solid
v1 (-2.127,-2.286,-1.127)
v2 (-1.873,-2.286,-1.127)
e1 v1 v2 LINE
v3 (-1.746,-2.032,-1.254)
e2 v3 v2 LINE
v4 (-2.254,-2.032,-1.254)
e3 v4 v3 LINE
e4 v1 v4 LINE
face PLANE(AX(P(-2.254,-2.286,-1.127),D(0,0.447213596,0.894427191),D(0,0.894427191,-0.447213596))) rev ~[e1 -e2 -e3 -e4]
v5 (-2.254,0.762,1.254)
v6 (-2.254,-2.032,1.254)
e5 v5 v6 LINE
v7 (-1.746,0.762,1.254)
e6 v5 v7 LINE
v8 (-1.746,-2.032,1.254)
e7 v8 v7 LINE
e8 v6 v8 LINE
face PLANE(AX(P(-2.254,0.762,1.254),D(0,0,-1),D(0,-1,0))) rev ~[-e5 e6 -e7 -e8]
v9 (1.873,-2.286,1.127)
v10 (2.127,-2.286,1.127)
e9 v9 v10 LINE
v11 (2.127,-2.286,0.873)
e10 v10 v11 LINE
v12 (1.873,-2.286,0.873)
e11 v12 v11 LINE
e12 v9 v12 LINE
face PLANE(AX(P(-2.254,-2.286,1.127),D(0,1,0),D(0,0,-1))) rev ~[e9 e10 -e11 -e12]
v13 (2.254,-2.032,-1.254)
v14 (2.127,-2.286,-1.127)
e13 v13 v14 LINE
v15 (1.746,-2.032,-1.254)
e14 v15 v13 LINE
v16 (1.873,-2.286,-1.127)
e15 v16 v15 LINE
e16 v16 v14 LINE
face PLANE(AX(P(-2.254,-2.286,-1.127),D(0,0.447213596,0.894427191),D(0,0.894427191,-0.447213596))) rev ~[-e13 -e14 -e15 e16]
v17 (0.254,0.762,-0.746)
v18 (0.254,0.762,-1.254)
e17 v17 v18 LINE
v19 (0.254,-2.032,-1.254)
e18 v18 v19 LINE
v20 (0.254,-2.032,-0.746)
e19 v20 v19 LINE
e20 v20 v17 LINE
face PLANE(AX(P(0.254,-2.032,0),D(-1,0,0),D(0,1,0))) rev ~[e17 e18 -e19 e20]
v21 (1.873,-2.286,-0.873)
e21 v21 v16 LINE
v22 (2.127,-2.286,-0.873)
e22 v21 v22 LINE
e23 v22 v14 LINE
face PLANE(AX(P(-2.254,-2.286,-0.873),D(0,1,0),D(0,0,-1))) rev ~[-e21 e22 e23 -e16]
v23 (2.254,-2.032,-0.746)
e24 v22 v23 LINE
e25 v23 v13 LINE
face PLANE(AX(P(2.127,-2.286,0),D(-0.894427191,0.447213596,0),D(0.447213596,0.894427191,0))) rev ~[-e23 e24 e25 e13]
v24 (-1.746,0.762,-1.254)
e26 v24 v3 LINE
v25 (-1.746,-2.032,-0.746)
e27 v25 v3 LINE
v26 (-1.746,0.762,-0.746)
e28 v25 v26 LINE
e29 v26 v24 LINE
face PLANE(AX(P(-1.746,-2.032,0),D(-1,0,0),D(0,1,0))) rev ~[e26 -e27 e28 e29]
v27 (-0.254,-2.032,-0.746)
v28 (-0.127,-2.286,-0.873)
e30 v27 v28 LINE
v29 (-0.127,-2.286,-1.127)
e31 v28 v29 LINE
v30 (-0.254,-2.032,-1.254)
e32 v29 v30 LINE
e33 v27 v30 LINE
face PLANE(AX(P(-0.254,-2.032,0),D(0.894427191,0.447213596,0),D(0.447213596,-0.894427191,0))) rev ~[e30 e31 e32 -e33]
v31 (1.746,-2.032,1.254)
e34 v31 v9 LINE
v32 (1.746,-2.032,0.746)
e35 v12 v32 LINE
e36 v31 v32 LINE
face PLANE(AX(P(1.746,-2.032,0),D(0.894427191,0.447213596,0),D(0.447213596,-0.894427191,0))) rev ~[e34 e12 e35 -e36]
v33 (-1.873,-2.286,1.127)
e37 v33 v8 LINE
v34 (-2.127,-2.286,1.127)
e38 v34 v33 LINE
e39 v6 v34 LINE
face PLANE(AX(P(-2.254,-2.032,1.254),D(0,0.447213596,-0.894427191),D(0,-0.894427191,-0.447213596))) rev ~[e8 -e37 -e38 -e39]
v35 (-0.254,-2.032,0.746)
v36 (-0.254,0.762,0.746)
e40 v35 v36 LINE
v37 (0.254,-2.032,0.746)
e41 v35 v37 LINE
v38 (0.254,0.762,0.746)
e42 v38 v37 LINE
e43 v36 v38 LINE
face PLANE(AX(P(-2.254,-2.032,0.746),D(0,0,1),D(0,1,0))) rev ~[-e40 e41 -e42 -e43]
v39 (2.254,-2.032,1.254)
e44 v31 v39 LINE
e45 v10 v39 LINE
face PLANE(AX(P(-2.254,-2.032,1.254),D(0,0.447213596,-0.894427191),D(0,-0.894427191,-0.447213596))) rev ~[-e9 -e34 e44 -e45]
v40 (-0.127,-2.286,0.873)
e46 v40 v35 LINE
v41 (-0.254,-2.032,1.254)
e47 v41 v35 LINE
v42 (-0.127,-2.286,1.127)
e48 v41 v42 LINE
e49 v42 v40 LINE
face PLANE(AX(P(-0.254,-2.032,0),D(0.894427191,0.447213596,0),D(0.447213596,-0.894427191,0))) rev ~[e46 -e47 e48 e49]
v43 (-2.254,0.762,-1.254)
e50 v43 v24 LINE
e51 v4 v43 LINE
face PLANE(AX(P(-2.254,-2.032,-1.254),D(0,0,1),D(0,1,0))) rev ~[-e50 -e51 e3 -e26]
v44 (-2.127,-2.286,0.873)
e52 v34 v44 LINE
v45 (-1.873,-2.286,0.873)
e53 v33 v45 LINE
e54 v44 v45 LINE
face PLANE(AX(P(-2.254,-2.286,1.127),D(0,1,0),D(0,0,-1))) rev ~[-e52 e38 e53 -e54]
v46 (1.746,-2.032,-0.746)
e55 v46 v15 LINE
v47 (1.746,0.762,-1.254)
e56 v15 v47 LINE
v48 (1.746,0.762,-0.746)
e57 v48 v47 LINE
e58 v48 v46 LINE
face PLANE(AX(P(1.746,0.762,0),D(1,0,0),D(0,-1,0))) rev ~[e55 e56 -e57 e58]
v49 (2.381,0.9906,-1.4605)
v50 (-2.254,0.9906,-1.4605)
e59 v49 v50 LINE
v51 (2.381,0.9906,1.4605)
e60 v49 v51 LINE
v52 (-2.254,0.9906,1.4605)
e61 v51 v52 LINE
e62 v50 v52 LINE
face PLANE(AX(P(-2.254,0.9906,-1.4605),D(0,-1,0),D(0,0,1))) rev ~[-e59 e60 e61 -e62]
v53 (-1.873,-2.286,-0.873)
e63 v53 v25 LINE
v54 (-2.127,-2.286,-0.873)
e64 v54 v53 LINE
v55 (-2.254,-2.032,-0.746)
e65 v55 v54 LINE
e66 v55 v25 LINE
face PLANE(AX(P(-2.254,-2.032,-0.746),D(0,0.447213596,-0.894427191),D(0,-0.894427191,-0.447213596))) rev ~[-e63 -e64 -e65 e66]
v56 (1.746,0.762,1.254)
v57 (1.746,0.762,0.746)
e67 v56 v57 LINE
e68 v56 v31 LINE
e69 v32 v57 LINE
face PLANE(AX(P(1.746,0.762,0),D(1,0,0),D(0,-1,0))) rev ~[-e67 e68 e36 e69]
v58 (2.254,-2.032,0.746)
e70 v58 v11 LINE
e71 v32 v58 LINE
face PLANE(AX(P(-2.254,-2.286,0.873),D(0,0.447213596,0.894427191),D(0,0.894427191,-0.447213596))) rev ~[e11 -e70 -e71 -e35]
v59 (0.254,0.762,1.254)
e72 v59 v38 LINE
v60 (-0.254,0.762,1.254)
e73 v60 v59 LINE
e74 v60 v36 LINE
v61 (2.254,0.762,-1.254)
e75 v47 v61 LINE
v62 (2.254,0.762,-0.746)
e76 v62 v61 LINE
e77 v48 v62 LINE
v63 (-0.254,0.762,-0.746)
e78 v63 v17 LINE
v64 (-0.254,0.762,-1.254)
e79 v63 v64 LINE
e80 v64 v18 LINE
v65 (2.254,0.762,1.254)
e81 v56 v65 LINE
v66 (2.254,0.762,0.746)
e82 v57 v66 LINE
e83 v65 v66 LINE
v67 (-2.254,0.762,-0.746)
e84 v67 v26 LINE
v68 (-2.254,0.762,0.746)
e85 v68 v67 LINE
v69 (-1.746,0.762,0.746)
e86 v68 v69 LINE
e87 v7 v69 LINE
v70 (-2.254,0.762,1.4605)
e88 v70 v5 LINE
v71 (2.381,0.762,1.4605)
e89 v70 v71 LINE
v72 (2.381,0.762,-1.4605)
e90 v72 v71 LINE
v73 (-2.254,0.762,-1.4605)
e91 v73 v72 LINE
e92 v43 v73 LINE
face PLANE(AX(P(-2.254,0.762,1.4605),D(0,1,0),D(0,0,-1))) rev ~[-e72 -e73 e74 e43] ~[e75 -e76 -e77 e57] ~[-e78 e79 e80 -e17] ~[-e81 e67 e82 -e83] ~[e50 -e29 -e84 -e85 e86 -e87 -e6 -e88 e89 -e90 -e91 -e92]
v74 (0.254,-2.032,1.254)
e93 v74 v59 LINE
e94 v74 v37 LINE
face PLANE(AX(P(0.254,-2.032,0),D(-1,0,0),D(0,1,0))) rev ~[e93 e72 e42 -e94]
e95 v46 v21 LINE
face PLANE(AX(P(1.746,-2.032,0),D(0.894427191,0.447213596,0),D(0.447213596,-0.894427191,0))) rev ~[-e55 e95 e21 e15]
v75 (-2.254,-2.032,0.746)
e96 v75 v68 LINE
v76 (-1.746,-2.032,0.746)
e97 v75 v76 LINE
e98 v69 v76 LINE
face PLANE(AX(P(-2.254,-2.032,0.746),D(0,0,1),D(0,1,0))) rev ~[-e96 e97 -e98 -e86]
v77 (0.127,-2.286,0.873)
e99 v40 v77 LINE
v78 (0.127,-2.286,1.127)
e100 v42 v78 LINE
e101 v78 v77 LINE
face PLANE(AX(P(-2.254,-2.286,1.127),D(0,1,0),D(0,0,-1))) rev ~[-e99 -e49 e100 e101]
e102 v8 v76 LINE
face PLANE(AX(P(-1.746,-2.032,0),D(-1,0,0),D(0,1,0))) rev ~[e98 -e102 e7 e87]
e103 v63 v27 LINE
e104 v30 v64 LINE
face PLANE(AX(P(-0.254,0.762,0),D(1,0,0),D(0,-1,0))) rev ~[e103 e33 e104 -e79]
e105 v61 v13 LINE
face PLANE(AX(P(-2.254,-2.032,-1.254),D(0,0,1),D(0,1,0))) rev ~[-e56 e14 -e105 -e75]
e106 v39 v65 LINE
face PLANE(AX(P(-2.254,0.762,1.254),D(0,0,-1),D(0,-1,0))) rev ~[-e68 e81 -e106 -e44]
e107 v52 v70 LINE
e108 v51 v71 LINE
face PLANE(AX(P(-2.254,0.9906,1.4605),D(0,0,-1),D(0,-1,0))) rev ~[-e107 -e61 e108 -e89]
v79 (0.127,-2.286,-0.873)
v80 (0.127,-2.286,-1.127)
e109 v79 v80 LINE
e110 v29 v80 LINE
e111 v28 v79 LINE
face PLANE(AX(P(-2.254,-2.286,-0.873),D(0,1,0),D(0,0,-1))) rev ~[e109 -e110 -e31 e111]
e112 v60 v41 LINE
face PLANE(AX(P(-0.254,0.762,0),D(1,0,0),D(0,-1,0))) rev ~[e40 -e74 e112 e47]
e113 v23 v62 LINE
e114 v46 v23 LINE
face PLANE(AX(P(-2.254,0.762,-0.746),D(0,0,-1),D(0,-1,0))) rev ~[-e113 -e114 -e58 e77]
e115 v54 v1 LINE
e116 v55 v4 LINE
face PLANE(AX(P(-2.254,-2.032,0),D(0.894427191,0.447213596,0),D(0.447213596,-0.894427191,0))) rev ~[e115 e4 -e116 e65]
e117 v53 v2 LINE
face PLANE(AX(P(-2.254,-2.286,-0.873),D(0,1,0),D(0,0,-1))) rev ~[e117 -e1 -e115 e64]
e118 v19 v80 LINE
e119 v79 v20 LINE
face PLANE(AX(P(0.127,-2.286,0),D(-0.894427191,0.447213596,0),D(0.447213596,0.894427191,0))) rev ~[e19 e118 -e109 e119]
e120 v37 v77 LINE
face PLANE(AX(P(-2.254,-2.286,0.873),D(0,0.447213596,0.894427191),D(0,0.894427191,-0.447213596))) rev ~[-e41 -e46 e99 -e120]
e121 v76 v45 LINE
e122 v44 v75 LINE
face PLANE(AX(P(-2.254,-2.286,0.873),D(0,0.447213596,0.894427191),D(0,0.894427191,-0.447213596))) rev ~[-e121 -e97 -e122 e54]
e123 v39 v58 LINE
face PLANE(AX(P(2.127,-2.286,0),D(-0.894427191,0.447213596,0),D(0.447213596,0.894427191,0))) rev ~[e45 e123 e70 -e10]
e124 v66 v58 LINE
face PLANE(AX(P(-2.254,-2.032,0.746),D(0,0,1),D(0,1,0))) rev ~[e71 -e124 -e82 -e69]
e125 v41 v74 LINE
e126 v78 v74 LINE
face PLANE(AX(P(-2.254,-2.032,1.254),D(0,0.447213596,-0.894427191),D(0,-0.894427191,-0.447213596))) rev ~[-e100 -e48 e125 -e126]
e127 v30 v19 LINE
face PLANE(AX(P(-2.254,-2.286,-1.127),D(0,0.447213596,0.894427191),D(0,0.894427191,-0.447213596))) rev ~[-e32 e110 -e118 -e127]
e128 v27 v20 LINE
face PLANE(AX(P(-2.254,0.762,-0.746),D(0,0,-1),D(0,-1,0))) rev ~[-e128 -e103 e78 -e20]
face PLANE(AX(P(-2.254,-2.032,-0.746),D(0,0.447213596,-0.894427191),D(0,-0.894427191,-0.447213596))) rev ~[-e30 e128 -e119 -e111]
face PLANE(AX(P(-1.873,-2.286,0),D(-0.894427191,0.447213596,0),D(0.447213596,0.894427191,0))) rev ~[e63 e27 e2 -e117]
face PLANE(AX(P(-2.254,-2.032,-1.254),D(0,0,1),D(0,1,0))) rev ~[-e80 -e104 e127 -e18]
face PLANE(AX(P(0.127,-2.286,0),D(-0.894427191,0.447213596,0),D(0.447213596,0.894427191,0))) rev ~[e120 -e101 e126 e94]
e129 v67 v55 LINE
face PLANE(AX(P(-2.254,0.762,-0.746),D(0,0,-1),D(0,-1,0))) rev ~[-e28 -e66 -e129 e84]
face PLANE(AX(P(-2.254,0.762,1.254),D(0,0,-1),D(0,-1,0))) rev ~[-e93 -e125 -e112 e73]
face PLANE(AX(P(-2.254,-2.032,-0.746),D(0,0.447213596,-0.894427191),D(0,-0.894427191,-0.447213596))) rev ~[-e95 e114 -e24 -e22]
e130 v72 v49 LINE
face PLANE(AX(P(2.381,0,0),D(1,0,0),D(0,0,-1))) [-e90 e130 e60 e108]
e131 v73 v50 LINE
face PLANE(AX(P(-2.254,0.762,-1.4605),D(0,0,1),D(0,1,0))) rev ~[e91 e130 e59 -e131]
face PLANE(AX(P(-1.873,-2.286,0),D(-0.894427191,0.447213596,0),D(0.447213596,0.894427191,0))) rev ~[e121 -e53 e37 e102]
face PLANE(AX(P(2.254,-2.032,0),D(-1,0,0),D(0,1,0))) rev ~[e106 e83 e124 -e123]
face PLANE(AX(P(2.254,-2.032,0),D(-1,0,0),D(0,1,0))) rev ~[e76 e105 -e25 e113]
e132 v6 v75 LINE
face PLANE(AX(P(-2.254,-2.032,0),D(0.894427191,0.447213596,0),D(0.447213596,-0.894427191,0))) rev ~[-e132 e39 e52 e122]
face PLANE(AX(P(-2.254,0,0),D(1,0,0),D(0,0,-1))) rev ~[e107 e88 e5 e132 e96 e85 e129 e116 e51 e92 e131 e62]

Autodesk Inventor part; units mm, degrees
sketch "Sketch_2" plane through (-2.254, 0, 0) normal (1, 0, 0) x (0, 0, -1)
  line L0 (-1.4605, 0.762) -> (-1.254, 0.762)
  line L1 (-1.254, 0.762) -> (-1.254, -2.032)
  line L2 (-1.254, -2.032) -> (-1.127, -2.286)
  line L3 (-1.127, -2.286) -> (-0.873, -2.286)
  line L4 (-0.873, -2.286) -> (-0.746, -2.032)
  line L5 (-0.746, -2.032) -> (-0.746, 0.762)
  line L6 (-0.746, 0.762) -> (0.746, 0.762)
  line L7 (0.746, 0.762) -> (0.746, -2.032)
  line L8 (0.746, -2.032) -> (0.873, -2.286)
  line L9 (0.873, -2.286) -> (1.127, -2.286)
  line L10 (1.127, -2.286) -> (1.254, -2.032)
  line L11 (1.254, -2.032) -> (1.254, 0.762)
  line L12 (1.254, 0.762) -> (1.4605, 0.762)
  line L13 (1.4605, 0.762) -> (1.4605, 0.9906)
  line L14 (1.4605, 0.9906) -> (-1.4605, 0.9906)
  line L15 (-1.4605, 0.9906) -> (-1.4605, 0.762)
extrude "Extrusion1" add sketch "Sketch_2" along normal blind 4.635
sketch "Sketch_1" plane through (0, 0, 0) normal (0, 0, 1) x (1, 0, 0)
  line L0 (-109.4334, 38.1) -> (-109.4334, -38.1)
  line L1 (-109.4334, -38.1) -> (56.7986, -38.1)
  line L2 (56.7986, -38.1) -> (56.7986, 38.1)
  line L3 (56.7986, 38.1) -> (-109.4334, 38.1)
  line L4 (-100.4603, 0.762) -> (-100.2538, 0.762)
  line L5 (-100.2538, 0.762) -> (-100.2538, -2.032)
  line L6 (-100.2538, -2.032) -> (-100.1268, -2.286)
  line L7 (-100.1268, -2.286) -> (-99.8728, -2.286)
  line L8 (-99.8728, -2.286) -> (-99.7458, -2.032)
  line L9 (-99.7458, -2.032) -> (-99.7458, 0.762)
  line L10 (-99.7458, 0.762) -> (-98.2538, 0.762)
  line L11 (-98.2538, 0.762) -> (-98.2538, -2.032)
  line L12 (-98.2538, -2.032) -> (-98.1268, -2.286)
  line L13 (-98.1268, -2.286) -> (-97.8728, -2.286)
  line L14 (-97.8728, -2.286) -> (-97.7458, -2.032)
  line L15 (-97.7458, -2.032) -> (-97.7458, 0.762)
  line L16 (-97.7458, 0.762) -> (-96.2538, 0.762)
  line L17 (-96.2538, 0.762) -> (-96.2538, -2.032)
  line L18 (-96.2538, -2.032) -> (-96.1268, -2.286)
  line L19 (-96.1268, -2.286) -> (-95.8728, -2.286)
  line L20 (-95.8728, -2.286) -> (-95.7458, -2.032)
  line L21 (-95.7458, -2.032) -> (-95.7458, 0.762)
  line L22 (-95.7458, 0.762) -> (-94.2538, 0.762)
  line L23 (-94.2538, 0.762) -> (-94.2538, -2.032)
  line L24 (-94.2538, -2.032) -> (-94.1268, -2.286)
  line L25 (-94.1268, -2.286) -> (-93.8728, -2.286)
  line L26 (-93.8728, -2.286) -> (-93.7458, -2.032)
  line L27 (-93.7458, -2.032) -> (-93.7458, 0.762)
  line L28 (-93.7458, 0.762) -> (-92.2538, 0.762)
  line L29 (-92.2538, 0.762) -> (-92.2538, -2.032)
  line L30 (-92.2538, -2.032) -> (-92.1268, -2.286)
  line L31 (-92.1268, -2.286) -> (-91.8728, -2.286)
  line L32 (-91.8728, -2.286) -> (-91.7458, -2.032)
  line L33 (-91.7458, -2.032) -> (-91.7458, 0.762)
  line L34 (-91.7458, 0.762) -> (-90.2538, 0.762)
  line L35 (-90.2538, 0.762) -> (-90.2538, -2.032)
  line L36 (-90.2538, -2.032) -> (-90.1268, -2.286)
  line L37 (-90.1268, -2.286) -> (-89.8728, -2.286)
  line L38 (-89.8728, -2.286) -> (-89.7458, -2.032)
  line L39 (-89.7458, -2.032) -> (-89.7458, 0.762)
  line L40 (-89.7458, 0.762) -> (-88.2538, 0.762)
  line L41 (-88.2538, 0.762) -> (-88.2538, -2.032)
  line L42 (-88.2538, -2.032) -> (-88.1268, -2.286)
  line L43 (-88.1268, -2.286) -> (-87.8728, -2.286)
  line L44 (-87.8728, -2.286) -> (-87.7458, -2.032)
  line L45 (-87.7458, -2.032) -> (-87.7458, 0.762)
  line L46 (-87.7458, 0.762) -> (-86.2538, 0.762)
  line L47 (-86.2538, 0.762) -> (-86.2538, -2.032)
  line L48 (-86.2538, -2.032) -> (-86.1268, -2.286)
  line L49 (-86.1268, -2.286) -> (-85.8728, -2.286)
  line L50 (-85.8728, -2.286) -> (-85.7458, -2.032)
  line L51 (-85.7458, -2.032) -> (-85.7458, 0.762)
  line L52 (-85.7458, 0.762) -> (-84.2538, 0.762)
  line L53 (-84.2538, 0.762) -> (-84.2538, -2.032)
  line L54 (-84.2538, -2.032) -> (-84.1268, -2.286)
  line L55 (-84.1268, -2.286) -> (-83.8728, -2.286)
  line L56 (-83.8728, -2.286) -> (-83.7458, -2.032)
  line L57 (-83.7458, -2.032) -> (-83.7458, 0.762)
  line L58 (-83.7458, 0.762) -> (-82.2538, 0.762)
  line L59 (-82.2538, 0.762) -> (-82.2538, -2.032)
  line L60 (-82.2538, -2.032) -> (-82.1268, -2.286)
  line L61 (-82.1268, -2.286) -> (-81.8728, -2.286)
  line L62 (-81.8728, -2.286) -> (-81.7458, -2.032)
  line L63 (-81.7458, -2.032) -> (-81.7458, 0.762)
  line L64 (-81.7458, 0.762) -> (-80.2538, 0.762)
  line L65 (-80.2538, 0.762) -> (-80.2538, -2.032)
  line L66 (-80.2538, -2.032) -> (-80.1268, -2.286)
  line L67 (-80.1268, -2.286) -> (-79.8728, -2.286)
  line L68 (-79.8728, -2.286) -> (-79.7458, -2.032)
  line L69 (-79.7458, -2.032) -> (-79.7458, 0.762)
  line L70 (-79.7458, 0.762) -> (-78.2538, 0.762)
  line L71 (-78.2538, 0.762) -> (-78.2538, -2.032)
  line L72 (-78.2538, -2.032) -> (-78.1268, -2.286)
  line L73 (-78.1268, -2.286) -> (-77.8728, -2.286)
  line L74 (-77.8728, -2.286) -> (-77.7458, -2.032)
  line L75 (-77.7458, -2.032) -> (-77.7458, 0.762)
  line L76 (-77.7458, 0.762) -> (-76.2538, 0.762)
  line L77 (-76.2538, 0.762) -> (-76.2538, -2.032)
  line L78 (-76.2538, -2.032) -> (-76.1268, -2.286)
  line L79 (-76.1268, -2.286) -> (-75.8728, -2.286)
  line L80 (-75.8728, -2.286) -> (-75.7458, -2.032)
  line L81 (-75.7458, -2.032) -> (-75.7458, 0.762)
  line L82 (-75.7458, 0.762) -> (-74.2539, 0.762)
  line L83 (-74.2539, 0.762) -> (-74.2539, -2.032)
  line L84 (-74.2539, -2.032) -> (-74.1269, -2.286)
  line L85 (-74.1269, -2.286) -> (-73.8729, -2.286)
  line L86 (-73.8729, -2.286) -> (-73.7459, -2.032)
  line L87 (-73.7459, -2.032) -> (-73.7459, 0.762)
  line L88 (-73.7459, 0.762) -> (-72.2539, 0.762)
  line L89 (-72.2539, 0.762) -> (-72.2539, -2.032)
  line L90 (-72.2539, -2.032) -> (-72.1269, -2.286)
  line L91 (-72.1269, -2.286) -> (-71.8729, -2.286)
  line L92 (-71.8729, -2.286) -> (-71.7459, -2.032)
  line L93 (-71.7459, -2.032) -> (-71.7459, 0.762)
  line L94 (-71.7459, 0.762) -> (-70.2539, 0.762)
  line L95 (-70.2539, 0.762) -> (-70.2539, -2.032)
  line L96 (-70.2539, -2.032) -> (-70.1269, -2.286)
  line L97 (-70.1269, -2.286) -> (-69.8729, -2.286)
  line L98 (-69.8729, -2.286) -> (-69.7459, -2.032)
  line L99 (-69.7459, -2.032) -> (-69.7459, 0.762)
  line L100 (-69.7459, 0.762) -> (-68.2539, 0.762)
  line L101 (-68.2539, 0.762) -> (-68.2539, -2.032)
  line L102 (-68.2539, -2.032) -> (-68.1269, -2.286)
  line L103 (-68.1269, -2.286) -> (-67.8729, -2.286)
  line L104 (-67.8729, -2.286) -> (-67.7459, -2.032)
  line L105 (-67.7459, -2.032) -> (-67.7459, 0.762)
  line L106 (-67.7459, 0.762) -> (-66.2539, 0.762)
  line L107 (-66.2539, 0.762) -> (-66.2539, -2.032)
  line L108 (-66.2539, -2.032) -> (-66.1269, -2.286)
  line L109 (-66.1269, -2.286) -> (-65.8729, -2.286)
  line L110 (-65.8729, -2.286) -> (-65.7459, -2.032)
  line L111 (-65.7459, -2.032) -> (-65.7459, 0.762)
  line L112 (-65.7459, 0.762) -> (-64.2539, 0.762)
  line L113 (-64.2539, 0.762) -> (-64.2539, -2.032)
  line L114 (-64.2539, -2.032) -> (-64.1269, -2.286)
  line L115 (-64.1269, -2.286) -> (-63.8729, -2.286)
  line L116 (-63.8729, -2.286) -> (-63.7459, -2.032)
  line L117 (-63.7459, -2.032) -> (-63.7459, 0.762)
  line L118 (-63.7459, 0.762) -> (-62.2539, 0.762)
  line L119 (-62.2539, 0.762) -> (-62.2539, -2.032)
  line L120 (-62.2539, -2.032) -> (-62.1269, -2.286)
  line L121 (-62.1269, -2.286) -> (-61.8729, -2.286)
  line L122 (-61.8729, -2.286) -> (-61.7459, -2.032)
  line L123 (-61.7459, -2.032) -> (-61.7459, 0.762)
  line L124 (-61.7459, 0.762) -> (-60.2539, 0.762)
  line L125 (-60.2539, 0.762) -> (-60.2539, -2.032)
  line L126 (-60.2539, -2.032) -> (-60.1269, -2.286)
  line L127 (-60.1269, -2.286) -> (-59.8729, -2.286)
  line L128 (-59.8729, -2.286) -> (-59.7459, -2.032)
  line L129 (-59.7459, -2.032) -> (-59.7459, 0.762)
  line L130 (-59.7459, 0.762) -> (-58.2539, 0.762)
  line L131 (-58.2539, 0.762) -> (-58.2539, -2.032)
  line L132 (-58.2539, -2.032) -> (-58.1269, -2.286)
  line L133 (-58.1269, -2.286) -> (-57.8729, -2.286)
  line L134 (-57.8729, -2.286) -> (-57.7459, -2.032)
  line L135 (-57.7459, -2.032) -> (-57.7459, 0.762)
  line L136 (-57.7459, 0.762) -> (-56.2539, 0.762)
  line L137 (-56.2539, 0.762) -> (-56.2539, -2.032)
  line L138 (-56.2539, -2.032) -> (-56.1269, -2.286)
  line L139 (-56.1269, -2.286) -> (-55.8729, -2.286)
  line L140 (-55.8729, -2.286) -> (-55.7459, -2.032)
  line L141 (-55.7459, -2.032) -> (-55.7459, 0.762)
  line L142 (-55.7459, 0.762) -> (-54.2539, 0.762)
  line L143 (-54.2539, 0.762) -> (-54.2539, -2.032)
  line L144 (-54.2539, -2.032) -> (-54.1269, -2.286)
  line L145 (-54.1269, -2.286) -> (-53.8729, -2.286)
  line L146 (-53.8729, -2.286) -> (-53.7459, -2.032)
  line L147 (-53.7459, -2.032) -> (-53.7459, 0.762)
  line L148 (-53.7459, 0.762) -> (-52.2539, 0.762)
  line L149 (-52.2539, 0.762) -> (-52.2539, -2.032)
  line L150 (-52.2539, -2.032) -> (-52.1269, -2.286)
  line L151 (-52.1269, -2.286) -> (-51.8729, -2.286)
  line L152 (-51.8729, -2.286) -> (-51.7459, -2.032)
  line L153 (-51.7459, -2.032) -> (-51.7459, 0.762)
  line L154 (-51.7459, 0.762) -> (-50.2539, 0.762)
  line L155 (-50.2539, 0.762) -> (-50.2539, -2.032)
  line L156 (-50.2539, -2.032) -> (-50.1269, -2.286)
  line L157 (-50.1269, -2.286) -> (-49.8729, -2.286)
  line L158 (-49.8729, -2.286) -> (-49.7459, -2.032)
  line L159 (-49.7459, -2.032) -> (-49.7459, 0.762)
  line L160 (-49.7459, 0.762) -> (-48.2539, 0.762)
  line L161 (-48.2539, 0.762) -> (-48.2539, -2.032)
  line L162 (-48.2539, -2.032) -> (-48.1269, -2.286)
  line L163 (-48.1269, -2.286) -> (-47.8729, -2.286)
  line L164 (-47.8729, -2.286) -> (-47.7459, -2.032)
  line L165 (-47.7459, -2.032) -> (-47.7459, 0.762)
  line L166 (-47.7459, 0.762) -> (-46.2539, 0.762)
  line L167 (-46.2539, 0.762) -> (-46.2539, -2.032)
  line L168 (-46.2539, -2.032) -> (-46.1269, -2.286)
  line L169 (-46.1269, -2.286) -> (-45.8729, -2.286)
  line L170 (-45.8729, -2.286) -> (-45.7459, -2.032)
  line L171 (-45.7459, -2.032) -> (-45.7459, 0.762)
  line L172 (-45.7459, 0.762) -> (-44.2539, 0.762)
  line L173 (-44.2539, 0.762) -> (-44.2539, -2.032)
  line L174 (-44.2539, -2.032) -> (-44.1269, -2.286)
  line L175 (-44.1269, -2.286) -> (-43.8729, -2.286)
  line L176 (-43.8729, -2.286) -> (-43.7459, -2.032)
  line L177 (-43.7459, -2.032) -> (-43.7459, 0.762)
  line L178 (-43.7459, 0.762) -> (-42.2539, 0.762)
  line L179 (-42.2539, 0.762) -> (-42.2539, -2.032)
  line L180 (-42.2539, -2.032) -> (-42.1269, -2.286)
  line L181 (-42.1269, -2.286) -> (-41.8729, -2.286)
  line L182 (-41.8729, -2.286) -> (-41.7459, -2.032)
  line L183 (-41.7459, -2.032) -> (-41.7459, 0.762)
  line L184 (-41.7459, 0.762) -> (-40.2539, 0.762)
  line L185 (-40.2539, 0.762) -> (-40.2539, -2.032)
  line L186 (-40.2539, -2.032) -> (-40.1269, -2.286)
  line L187 (-40.1269, -2.286) -> (-39.8729, -2.286)
  line L188 (-39.8729, -2.286) -> (-39.7459, -2.032)
  line L189 (-39.7459, -2.032) -> (-39.7459, 0.762)
  line L190 (-39.7459, 0.762) -> (-38.2539, 0.762)
  line L191 (-38.2539, 0.762) -> (-38.2539, -2.032)
  line L192 (-38.2539, -2.032) -> (-38.1269, -2.286)
  line L193 (-38.1269, -2.286) -> (-37.8729, -2.286)
  line L194 (-37.8729, -2.286) -> (-37.7459, -2.032)
  line L195 (-37.7459, -2.032) -> (-37.7459, 0.762)
  line L196 (-37.7459, 0.762) -> (-36.2539, 0.762)
  line L197 (-36.2539, 0.762) -> (-36.2539, -2.032)
  line L198 (-36.2539, -2.032) -> (-36.1269, -2.286)
  line L199 (-36.1269, -2.286) -> (-35.8729, -2.286)
  line L200 (-35.8729, -2.286) -> (-35.7459, -2.032)
  line L201 (-35.7459, -2.032) -> (-35.7459, 0.762)
  line L202 (-35.7459, 0.762) -> (-34.2539, 0.762)
  line L203 (-34.2539, 0.762) -> (-34.2539, -2.032)
  line L204 (-34.2539, -2.032) -> (-34.1269, -2.286)
  line L205 (-34.1269, -2.286) -> (-33.8729, -2.286)
  line L206 (-33.8729, -2.286) -> (-33.7459, -2.032)
  line L207 (-33.7459, -2.032) -> (-33.7459, 0.762)
  line L208 (-33.7459, 0.762) -> (-32.2539, 0.762)
  line L209 (-32.2539, 0.762) -> (-32.2539, -2.032)
  line L210 (-32.2539, -2.032) -> (-32.1269, -2.286)
  line L211 (-32.1269, -2.286) -> (-31.8729, -2.286)
  line L212 (-31.8729, -2.286) -> (-31.7459, -2.032)
  line L213 (-31.7459, -2.032) -> (-31.7459, 0.762)
  line L214 (-31.7459, 0.762) -> (-30.2539, 0.762)
  line L215 (-30.2539, 0.762) -> (-30.2539, -2.032)
  line L216 (-30.2539, -2.032) -> (-30.1269, -2.286)
  line L217 (-30.1269, -2.286) -> (-29.8729, -2.286)
  line L218 (-29.8729, -2.286) -> (-29.7459, -2.032)
  line L219 (-29.7459, -2.032) -> (-29.7459, 0.762)
  line L220 (-29.7459, 0.762) -> (-28.2539, 0.762)
  line L221 (-28.2539, 0.762) -> (-28.2539, -2.032)
  line L222 (-28.2539, -2.032) -> (-28.1269, -2.286)
  line L223 (-28.1269, -2.286) -> (-27.8729, -2.286)
  line L224 (-27.8729, -2.286) -> (-27.7459, -2.032)
  line L225 (-27.7459, -2.032) -> (-27.7459, 0.762)
  line L226 (-27.7459, 0.762) -> (-26.2539, 0.762)
  line L227 (-26.2539, 0.762) -> (-26.2539, -2.032)
  line L228 (-26.2539, -2.032) -> (-26.1269, -2.286)
  line L229 (-26.1269, -2.286) -> (-25.8729, -2.286)
  line L230 (-25.8729, -2.286) -> (-25.7459, -2.032)
  line L231 (-25.7459, -2.032) -> (-25.7459, 0.762)
  line L232 (-25.7459, 0.762) -> (-24.254, 0.762)
  line L233 (-24.254, 0.762) -> (-24.254, -2.032)
  line L234 (-24.254, -2.032) -> (-24.127, -2.286)
  line L235 (-24.127, -2.286) -> (-23.873, -2.286)
  line L236 (-23.873, -2.286) -> (-23.746, -2.032)
  line L237 (-23.746, -2.032) -> (-23.746, 0.762)
  line L238 (-23.746, 0.762) -> (-22.254, 0.762)
  line L239 (-22.254, 0.762) -> (-22.254, -2.032)
  line L240 (-22.254, -2.032) -> (-22.127, -2.286)
  line L241 (-22.127, -2.286) -> (-21.873, -2.286)
  line L242 (-21.873, -2.286) -> (-21.746, -2.032)
  line L243 (-21.746, -2.032) -> (-21.746, 0.762)
  line L244 (-21.746, 0.762) -> (-20.254, 0.762)
  line L245 (-20.254, 0.762) -> (-20.254, -2.032)
  line L246 (-20.254, -2.032) -> (-20.127, -2.286)
  line L247 (-20.127, -2.286) -> (-19.873, -2.286)
  line L248 (-19.873, -2.286) -> (-19.746, -2.032)
  line L249 (-19.746, -2.032) -> (-19.746, 0.762)
  line L250 (-19.746, 0.762) -> (-18.254, 0.762)
  line L251 (-18.254, 0.762) -> (-18.254, -2.032)
  line L252 (-18.254, -2.032) -> (-18.127, -2.286)
  line L253 (-18.127, -2.286) -> (-17.873, -2.286)
  line L254 (-17.873, -2.286) -> (-17.746, -2.032)
  line L255 (-17.746, -2.032) -> (-17.746, 0.762)
  line L256 (-17.746, 0.762) -> (-16.254, 0.762)
  line L257 (-16.254, 0.762) -> (-16.254, -2.032)
  line L258 (-16.254, -2.032) -> (-16.127, -2.286)
  line L259 (-16.127, -2.286) -> (-15.873, -2.286)
  line L260 (-15.873, -2.286) -> (-15.746, -2.032)
  line L261 (-15.746, -2.032) -> (-15.746, 0.762)
  line L262 (-15.746, 0.762) -> (-14.254, 0.762)
  line L263 (-14.254, 0.762) -> (-14.254, -2.032)
  line L264 (-14.254, -2.032) -> (-14.127, -2.286)
  line L265 (-14.127, -2.286) -> (-13.873, -2.286)
  line L266 (-13.873, -2.286) -> (-13.746, -2.032)
  line L267 (-13.746, -2.032) -> (-13.746, 0.762)
  line L268 (-13.746, 0.762) -> (-12.254, 0.762)
  line L269 (-12.254, 0.762) -> (-12.254, -2.032)
  line L270 (-12.254, -2.032) -> (-12.127, -2.286)
  line L271 (-12.127, -2.286) -> (-11.873, -2.286)
  line L272 (-11.873, -2.286) -> (-11.746, -2.032)
  line L273 (-11.746, -2.032) -> (-11.746, 0.762)
  line L274 (-11.746, 0.762) -> (-10.254, 0.762)
  line L275 (-10.254, 0.762) -> (-10.254, -2.032)
  line L276 (-10.254, -2.032) -> (-10.127, -2.286)
  line L277 (-10.127, -2.286) -> (-9.873, -2.286)
  line L278 (-9.873, -2.286) -> (-9.746, -2.032)
  line L279 (-9.746, -2.032) -> (-9.746, 0.762)
  line L280 (-9.746, 0.762) -> (-8.254, 0.762)
  line L281 (-8.254, 0.762) -> (-8.254, -2.032)
  line L282 (-8.254, -2.032) -> (-8.127, -2.286)
  line L283 (-8.127, -2.286) -> (-7.873, -2.286)
  line L284 (-7.873, -2.286) -> (-7.746, -2.032)
  line L285 (-7.746, -2.032) -> (-7.746, 0.762)
  line L286 (-7.746, 0.762) -> (-6.254, 0.762)
  line L287 (-6.254, 0.762) -> (-6.254, -2.032)
  line L288 (-6.254, -2.032) -> (-6.127, -2.286)
  line L289 (-6.127, -2.286) -> (-5.873, -2.286)
  line L290 (-5.873, -2.286) -> (-5.746, -2.032)
  line L291 (-5.746, -2.032) -> (-5.746, 0.762)
  line L292 (-5.746, 0.762) -> (-4.254, 0.762)
  line L293 (-4.254, 0.762) -> (-4.254, -2.032)
  line L294 (-4.254, -2.032) -> (-4.127, -2.286)
  line L295 (-4.127, -2.286) -> (-3.873, -2.286)
  line L296 (-3.873, -2.286) -> (-3.746, -2.032)
  line L297 (-3.746, -2.032) -> (-3.746, 0.762)
  line L298 (-3.746, 0.762) -> (-2.254, 0.762)
  line L299 (-2.254, 0.762) -> (-2.254, -2.032)
  line L300 (-2.254, -2.032) -> (-2.127, -2.286)
  line L301 (-2.127, -2.286) -> (-1.873, -2.286)
  line L302 (-1.873, -2.286) -> (-1.746, -2.032)
  line L303 (-1.746, -2.032) -> (-1.746, 0.762)
  line L304 (-1.746, 0.762) -> (-0.254, 0.762)
  line L305 (-0.254, 0.762) -> (-0.254, -2.032)
  line L306 (-0.254, -2.032) -> (-0.127, -2.286)
  line L307 (-0.127, -2.286) -> (0.127, -2.286)
  line L308 (0.127, -2.286) -> (0.254, -2.032)
  line L309 (0.254, -2.032) -> (0.254, 0.762)
  line L310 (0.254, 0.762) -> (1.746, 0.762)
  line L311 (1.746, 0.762) -> (1.746, -2.032)
  line L312 (1.746, -2.032) -> (1.873, -2.286)
  line L313 (1.873, -2.286) -> (2.127, -2.286)
  line L314 (2.127, -2.286) -> (2.254, -2.032)
  line L315 (2.254, -2.032) -> (2.254, 0.762)
  line L316 (2.254, 0.762) -> (2.4605, 0.762)
  line L317 (2.4605, 0.762) -> (2.4605, 0.9906)
  line L318 (2.4605, 0.9906) -> (2.254, 0.9906)
  line L319 (2.254, 0.9906) -> (2.254, 5.6642)
  line L320 (2.254, 5.6642) -> (2.127, 5.9182)
  line L321 (2.127, 5.9182) -> (1.873, 5.9182)
  line L322 (1.873, 5.9182) -> (1.746, 5.6642)
  line L323 (1.746, 5.6642) -> (1.746, 0.9906)
  line L324 (1.746, 0.9906) -> (0.254, 0.9906)
  line L325 (0.254, 0.9906) -> (0.254, 5.6642)
  line L326 (0.254, 5.6642) -> (0.127, 5.9182)
  line L327 (0.127, 5.9182) -> (-0.127, 5.9182)
  line L328 (-0.127, 5.9182) -> (-0.254, 5.6642)
  line L329 (-0.254, 5.6642) -> (-0.254, 0.9906)
  line L330 (-0.254, 0.9906) -> (-1.746, 0.9906)
  line L331 (-1.746, 0.9906) -> (-1.746, 5.6642)
  line L332 (-1.746, 5.6642) -> (-1.873, 5.9182)
  line L333 (-1.873, 5.9182) -> (-2.127, 5.9182)
  line L334 (-2.127, 5.9182) -> (-2.254, 5.6642)
  line L335 (-2.254, 5.6642) -> (-2.254, 0.9906)
  line L336 (-2.254, 0.9906) -> (-3.746, 0.9906)
  line L337 (-3.746, 0.9906) -> (-3.746, 5.6642)
  line L338 (-3.746, 5.6642) -> (-3.873, 5.9182)
  line L339 (-3.873, 5.9182) -> (-4.127, 5.9182)
  line L340 (-4.127, 5.9182) -> (-4.254, 5.6642)
  line L341 (-4.254, 5.6642) -> (-4.254, 0.9906)
  line L342 (-4.254, 0.9906) -> (-5.746, 0.9906)
  line L343 (-5.746, 0.9906) -> (-5.746, 5.6642)
  line L344 (-5.746, 5.6642) -> (-5.873, 5.9182)
  line L345 (-5.873, 5.9182) -> (-6.127, 5.9182)
  line L346 (-6.127, 5.9182) -> (-6.254, 5.6642)
  line L347 (-6.254, 5.6642) -> (-6.254, 0.9906)
  line L348 (-6.254, 0.9906) -> (-7.746, 0.9906)
  line L349 (-7.746, 0.9906) -> (-7.746, 5.6642)
  line L350 (-7.746, 5.6642) -> (-7.873, 5.9182)
  line L351 (-7.873, 5.9182) -> (-8.127, 5.9182)
  line L352 (-8.127, 5.9182) -> (-8.254, 5.6642)
  line L353 (-8.254, 5.6642) -> (-8.254, 0.9906)
  line L354 (-8.254, 0.9906) -> (-9.746, 0.9906)
  line L355 (-9.746, 0.9906) -> (-9.746, 5.6642)
  line L356 (-9.746, 5.6642) -> (-9.873, 5.9182)
  line L357 (-9.873, 5.9182) -> (-10.127, 5.9182)
  line L358 (-10.127, 5.9182) -> (-10.254, 5.6642)
  line L359 (-10.254, 5.6642) -> (-10.254, 0.9906)
  line L360 (-10.254, 0.9906) -> (-11.746, 0.9906)
  line L361 (-11.746, 0.9906) -> (-11.746, 5.6642)
  line L362 (-11.746, 5.6642) -> (-11.873, 5.9182)
  line L363 (-11.873, 5.9182) -> (-12.127, 5.9182)
  line L364 (-12.127, 5.9182) -> (-12.254, 5.6642)
  line L365 (-12.254, 5.6642) -> (-12.254, 0.9906)
  line L366 (-12.254, 0.9906) -> (-13.746, 0.9906)
  line L367 (-13.746, 0.9906) -> (-13.746, 5.6642)
  line L368 (-13.746, 5.6642) -> (-13.873, 5.9182)
  line L369 (-13.873, 5.9182) -> (-14.127, 5.9182)
  line L370 (-14.127, 5.9182) -> (-14.254, 5.6642)
  line L371 (-14.254, 5.6642) -> (-14.254, 0.9906)
  line L372 (-14.254, 0.9906) -> (-15.746, 0.9906)
  line L373 (-15.746, 0.9906) -> (-15.746, 5.6642)
  line L374 (-15.746, 5.6642) -> (-15.873, 5.9182)
  line L375 (-15.873, 5.9182) -> (-16.127, 5.9182)
  line L376 (-16.127, 5.9182) -> (-16.254, 5.6642)
  line L377 (-16.254, 5.6642) -> (-16.254, 0.9906)
  line L378 (-16.254, 0.9906) -> (-17.746, 0.9906)
  line L379 (-17.746, 0.9906) -> (-17.746, 5.6642)
  line L380 (-17.746, 5.6642) -> (-17.873, 5.9182)
  line L381 (-17.873, 5.9182) -> (-18.127, 5.9182)
  line L382 (-18.127, 5.9182) -> (-18.254, 5.6642)
  line L383 (-18.254, 5.6642) -> (-18.254, 0.9906)
  line L384 (-18.254, 0.9906) -> (-19.746, 0.9906)
  line L385 (-19.746, 0.9906) -> (-19.746, 5.6642)
  line L386 (-19.746, 5.6642) -> (-19.873, 5.9182)
  line L387 (-19.873, 5.9182) -> (-20.127, 5.9182)
  line L388 (-20.127, 5.9182) -> (-20.254, 5.6642)
  line L389 (-20.254, 5.6642) -> (-20.254, 0.9906)
  line L390 (-20.254, 0.9906) -> (-21.746, 0.9906)
  line L391 (-21.746, 0.9906) -> (-21.746, 5.6642)
  line L392 (-21.746, 5.6642) -> (-21.873, 5.9182)
  line L393 (-21.873, 5.9182) -> (-22.127, 5.9182)
  line L394 (-22.127, 5.9182) -> (-22.254, 5.6642)
  line L395 (-22.254, 5.6642) -> (-22.254, 0.9906)
  line L396 (-22.254, 0.9906) -> (-23.746, 0.9906)
  line L397 (-23.746, 0.9906) -> (-23.746, 5.6642)
  line L398 (-23.746, 5.6642) -> (-23.873, 5.9182)
  line L399 (-23.873, 5.9182) -> (-24.127, 5.9182)
  line L400 (-24.127, 5.9182) -> (-24.254, 5.6642)
  line L401 (-24.254, 5.6642) -> (-24.254, 0.9906)
  line L402 (-24.254, 0.9906) -> (-25.7459, 0.9906)
  line L403 (-25.7459, 0.9906) -> (-25.7459, 5.6642)
  line L404 (-25.7459, 5.6642) -> (-25.8729, 5.9182)
  line L405 (-25.8729, 5.9182) -> (-26.1269, 5.9182)
  line L406 (-26.1269, 5.9182) -> (-26.2539, 5.6642)
  line L407 (-26.2539, 5.6642) -> (-26.2539, 0.9906)
  line L408 (-26.2539, 0.9906) -> (-27.7459, 0.9906)
  line L409 (-27.7459, 0.9906) -> (-27.7459, 5.6642)
  line L410 (-27.7459, 5.6642) -> (-27.8729, 5.9182)
  line L411 (-27.8729, 5.9182) -> (-28.1269, 5.9182)
  line L412 (-28.1269, 5.9182) -> (-28.2539, 5.6642)
  line L413 (-28.2539, 5.6642) -> (-28.2539, 0.9906)
  line L414 (-28.2539, 0.9906) -> (-29.7459, 0.9906)
  line L415 (-29.7459, 0.9906) -> (-29.7459, 5.6642)
  line L416 (-29.7459, 5.6642) -> (-29.8729, 5.9182)
  line L417 (-29.8729, 5.9182) -> (-30.1269, 5.9182)
  line L418 (-30.1269, 5.9182) -> (-30.2539, 5.6642)
  line L419 (-30.2539, 5.6642) -> (-30.2539, 0.9906)
  line L420 (-30.2539, 0.9906) -> (-31.7459, 0.9906)
  line L421 (-31.7459, 0.9906) -> (-31.7459, 5.6642)
  line L422 (-31.7459, 5.6642) -> (-31.8729, 5.9182)
  line L423 (-31.8729, 5.9182) -> (-32.1269, 5.9182)
  line L424 (-32.1269, 5.9182) -> (-32.2539, 5.6642)
  line L425 (-32.2539, 5.6642) -> (-32.2539, 0.9906)
  line L426 (-32.2539, 0.9906) -> (-33.7459, 0.9906)
  line L427 (-33.7459, 0.9906) -> (-33.7459, 5.6642)
  line L428 (-33.7459, 5.6642) -> (-33.8729, 5.9182)
  line L429 (-33.8729, 5.9182) -> (-34.1269, 5.9182)
  line L430 (-34.1269, 5.9182) -> (-34.2539, 5.6642)
  line L431 (-34.2539, 5.6642) -> (-34.2539, 0.9906)
  line L432 (-34.2539, 0.9906) -> (-35.7459, 0.9906)
  line L433 (-35.7459, 0.9906) -> (-35.7459, 5.6642)
  line L434 (-35.7459, 5.6642) -> (-35.8729, 5.9182)
  line L435 (-35.8729, 5.9182) -> (-36.1269, 5.9182)
  line L436 (-36.1269, 5.9182) -> (-36.2539, 5.6642)
  line L437 (-36.2539, 5.6642) -> (-36.2539, 0.9906)
  line L438 (-36.2539, 0.9906) -> (-37.7459, 0.9906)
  line L439 (-37.7459, 0.9906) -> (-37.7459, 5.6642)
  line L440 (-37.7459, 5.6642) -> (-37.8729, 5.9182)
  line L441 (-37.8729, 5.9182) -> (-38.1269, 5.9182)
  line L442 (-38.1269, 5.9182) -> (-38.2539, 5.6642)
  line L443 (-38.2539, 5.6642) -> (-38.2539, 0.9906)
  line L444 (-38.2539, 0.9906) -> (-39.7459, 0.9906)
  line L445 (-39.7459, 0.9906) -> (-39.7459, 5.6642)
  line L446 (-39.7459, 5.6642) -> (-39.8729, 5.9182)
  line L447 (-39.8729, 5.9182) -> (-40.1269, 5.9182)
  line L448 (-40.1269, 5.9182) -> (-40.2539, 5.6642)
  line L449 (-40.2539, 5.6642) -> (-40.2539, 0.9906)
  line L450 (-40.2539, 0.9906) -> (-41.7459, 0.9906)
  line L451 (-41.7459, 0.9906) -> (-41.7459, 5.6642)
  line L452 (-41.7459, 5.6642) -> (-41.8729, 5.9182)
  line L453 (-41.8729, 5.9182) -> (-42.1269, 5.9182)
  line L454 (-42.1269, 5.9182) -> (-42.2539, 5.6642)
  line L455 (-42.2539, 5.6642) -> (-42.2539, 0.9906)
  line L456 (-42.2539, 0.9906) -> (-43.7459, 0.9906)
  line L457 (-43.7459, 0.9906) -> (-43.7459, 5.6642)
  line L458 (-43.7459, 5.6642) -> (-43.8729, 5.9182)
  line L459 (-43.8729, 5.9182) -> (-44.1269, 5.9182)
  line L460 (-44.1269, 5.9182) -> (-44.2539, 5.6642)
  line L461 (-44.2539, 5.6642) -> (-44.2539, 0.9906)
  line L462 (-44.2539, 0.9906) -> (-45.7459, 0.9906)
  line L463 (-45.7459, 0.9906) -> (-45.7459, 5.6642)
  line L464 (-45.7459, 5.6642) -> (-45.8729, 5.9182)
  line L465 (-45.8729, 5.9182) -> (-46.1269, 5.9182)
  line L466 (-46.1269, 5.9182) -> (-46.2539, 5.6642)
  line L467 (-46.2539, 5.6642) -> (-46.2539, 0.9906)
  line L468 (-46.2539, 0.9906) -> (-47.7459, 0.9906)
  line L469 (-47.7459, 0.9906) -> (-47.7459, 5.6642)
  line L470 (-47.7459, 5.6642) -> (-47.8729, 5.9182)
  line L471 (-47.8729, 5.9182) -> (-48.1269, 5.9182)
  line L472 (-48.1269, 5.9182) -> (-48.2539, 5.6642)
  line L473 (-48.2539, 5.6642) -> (-48.2539, 0.9906)
  line L474 (-48.2539, 0.9906) -> (-49.7459, 0.9906)
  line L475 (-49.7459, 0.9906) -> (-49.7459, 5.6642)
  line L476 (-49.7459, 5.6642) -> (-49.8729, 5.9182)
  line L477 (-49.8729, 5.9182) -> (-50.1269, 5.9182)
  line L478 (-50.1269, 5.9182) -> (-50.2539, 5.6642)
  line L479 (-50.2539, 5.6642) -> (-50.2539, 0.9906)
  line L480 (-50.2539, 0.9906) -> (-51.7459, 0.9906)
  line L481 (-51.7459, 0.9906) -> (-51.7459, 5.6642)
  line L482 (-51.7459, 5.6642) -> (-51.8729, 5.9182)
  line L483 (-51.8729, 5.9182) -> (-52.1269, 5.9182)
  line L484 (-52.1269, 5.9182) -> (-52.2539, 5.6642)
  line L485 (-52.2539, 5.6642) -> (-52.2539, 0.9906)
  line L486 (-52.2539, 0.9906) -> (-53.7459, 0.9906)
  line L487 (-53.7459, 0.9906) -> (-53.7459, 5.6642)
  line L488 (-53.7459, 5.6642) -> (-53.8729, 5.9182)
  line L489 (-53.8729, 5.9182) -> (-54.1269, 5.9182)
  line L490 (-54.1269, 5.9182) -> (-54.2539, 5.6642)
  line L491 (-54.2539, 5.6642) -> (-54.2539, 0.9906)
  line L492 (-54.2539, 0.9906) -> (-55.7459, 0.9906)
  line L493 (-55.7459, 0.9906) -> (-55.7459, 5.6642)
  line L494 (-55.7459, 5.6642) -> (-55.8729, 5.9182)
  line L495 (-55.8729, 5.9182) -> (-56.1269, 5.9182)
  line L496 (-56.1269, 5.9182) -> (-56.2539, 5.6642)
  line L497 (-56.2539, 5.6642) -> (-56.2539, 0.9906)
  line L498 (-56.2539, 0.9906) -> (-57.7459, 0.9906)
  line L499 (-57.7459, 0.9906) -> (-57.7459, 5.6642)
  line L500 (-57.7459, 5.6642) -> (-57.8729, 5.9182)
  line L501 (-57.8729, 5.9182) -> (-58.1269, 5.9182)
  line L502 (-58.1269, 5.9182) -> (-58.2539, 5.6642)
  line L503 (-58.2539, 5.6642) -> (-58.2539, 0.9906)
  line L504 (-58.2539, 0.9906) -> (-59.7459, 0.9906)
  line L505 (-59.7459, 0.9906) -> (-59.7459, 5.6642)
  line L506 (-59.7459, 5.6642) -> (-59.8729, 5.9182)
  line L507 (-59.8729, 5.9182) -> (-60.1269, 5.9182)
  line L508 (-60.1269, 5.9182) -> (-60.2539, 5.6642)
  line L509 (-60.2539, 5.6642) -> (-60.2539, 0.9906)
  line L510 (-60.2539, 0.9906) -> (-61.7459, 0.9906)
  line L511 (-61.7459, 0.9906) -> (-61.7459, 5.6642)
  line L512 (-61.7459, 5.6642) -> (-61.8729, 5.9182)
  line L513 (-61.8729, 5.9182) -> (-62.1269, 5.9182)
  line L514 (-62.1269, 5.9182) -> (-62.2539, 5.6642)
  line L515 (-62.2539, 5.6642) -> (-62.2539, 0.9906)
  line L516 (-62.2539, 0.9906) -> (-63.7459, 0.9906)
  line L517 (-63.7459, 0.9906) -> (-63.7459, 5.6642)
  line L518 (-63.7459, 5.6642) -> (-63.8729, 5.9182)
  line L519 (-63.8729, 5.9182) -> (-64.1269, 5.9182)
  line L520 (-64.1269, 5.9182) -> (-64.2539, 5.6642)
  line L521 (-64.2539, 5.6642) -> (-64.2539, 0.9906)
  line L522 (-64.2539, 0.9906) -> (-65.7459, 0.9906)
  line L523 (-65.7459, 0.9906) -> (-65.7459, 5.6642)
  line L524 (-65.7459, 5.6642) -> (-65.8729, 5.9182)
  line L525 (-65.8729, 5.9182) -> (-66.1269, 5.9182)
  line L526 (-66.1269, 5.9182) -> (-66.2539, 5.6642)
  line L527 (-66.2539, 5.6642) -> (-66.2539, 0.9906)
  line L528 (-66.2539, 0.9906) -> (-67.7459, 0.9906)
  line L529 (-67.7459, 0.9906) -> (-67.7459, 5.6642)
  line L530 (-67.7459, 5.6642) -> (-67.8729, 5.9182)
  line L531 (-67.8729, 5.9182) -> (-68.1269, 5.9182)
  line L532 (-68.1269, 5.9182) -> (-68.2539, 5.6642)
  line L533 (-68.2539, 5.6642) -> (-68.2539, 0.9906)
  line L534 (-68.2539, 0.9906) -> (-69.7459, 0.9906)
  line L535 (-69.7459, 0.9906) -> (-69.7459, 5.6642)
  line L536 (-69.7459, 5.6642) -> (-69.8729, 5.9182)
  line L537 (-69.8729, 5.9182) -> (-70.1269, 5.9182)
  line L538 (-70.1269, 5.9182) -> (-70.2539, 5.6642)
  line L539 (-70.2539, 5.6642) -> (-70.2539, 0.9906)
  line L540 (-70.2539, 0.9906) -> (-71.7459, 0.9906)
  line L541 (-71.7459, 0.9906) -> (-71.7459, 5.6642)
  line L542 (-71.7459, 5.6642) -> (-71.8729, 5.9182)
  line L543 (-71.8729, 5.9182) -> (-72.1269, 5.9182)
  line L544 (-72.1269, 5.9182) -> (-72.2539, 5.6642)
  line L545 (-72.2539, 5.6642) -> (-72.2539, 0.9906)
  line L546 (-72.2539, 0.9906) -> (-73.7459, 0.9906)
  line L547 (-73.7459, 0.9906) -> (-73.7459, 5.6642)
  line L548 (-73.7459, 5.6642) -> (-73.8729, 5.9182)
  line L549 (-73.8729, 5.9182) -> (-74.1269, 5.9182)
  line L550 (-74.1269, 5.9182) -> (-74.2539, 5.6642)
  line L551 (-74.2539, 5.6642) -> (-74.2539, 0.9906)
  line L552 (-74.2539, 0.9906) -> (-75.7458, 0.9906)
  line L553 (-75.7458, 0.9906) -> (-75.7458, 5.6642)
  line L554 (-75.7458, 5.6642) -> (-75.8728, 5.9182)
  line L555 (-75.8728, 5.9182) -> (-76.1268, 5.9182)
  line L556 (-76.1268, 5.9182) -> (-76.2538, 5.6642)
  line L557 (-76.2538, 5.6642) -> (-76.2538, 0.9906)
  line L558 (-76.2538, 0.9906) -> (-77.7458, 0.9906)
  line L559 (-77.7458, 0.9906) -> (-77.7458, 5.6642)
  line L560 (-77.7458, 5.6642) -> (-77.8728, 5.9182)
  line L561 (-77.8728, 5.9182) -> (-78.1268, 5.9182)
  line L562 (-78.1268, 5.9182) -> (-78.2538, 5.6642)
  line L563 (-78.2538, 5.6642) -> (-78.2538, 0.9906)
  line L564 (-78.2538, 0.9906) -> (-79.7458, 0.9906)
  line L565 (-79.7458, 0.9906) -> (-79.7458, 5.6642)
  line L566 (-79.7458, 5.6642) -> (-79.8728, 5.9182)
  line L567 (-79.8728, 5.9182) -> (-80.1268, 5.9182)
  line L568 (-80.1268, 5.9182) -> (-80.2538, 5.6642)
  line L569 (-80.2538, 5.6642) -> (-80.2538, 0.9906)
  line L570 (-80.2538, 0.9906) -> (-81.7458, 0.9906)
  line L571 (-81.7458, 0.9906) -> (-81.7458, 5.6642)
  line L572 (-81.7458, 5.6642) -> (-81.8728, 5.9182)
  line L573 (-81.8728, 5.9182) -> (-82.1268, 5.9182)
  line L574 (-82.1268, 5.9182) -> (-82.2538, 5.6642)
  line L575 (-82.2538, 5.6642) -> (-82.2538, 0.9906)
  line L576 (-82.2538, 0.9906) -> (-83.7458, 0.9906)
  line L577 (-83.7458, 0.9906) -> (-83.7458, 5.6642)
  line L578 (-83.7458, 5.6642) -> (-83.8728, 5.9182)
  line L579 (-83.8728, 5.9182) -> (-84.1268, 5.9182)
  line L580 (-84.1268, 5.9182) -> (-84.2538, 5.6642)
  line L581 (-84.2538, 5.6642) -> (-84.2538, 0.9906)
  line L582 (-84.2538, 0.9906) -> (-85.7458, 0.9906)
  line L583 (-85.7458, 0.9906) -> (-85.7458, 5.6642)
  line L584 (-85.7458, 5.6642) -> (-85.8728, 5.9182)
  line L585 (-85.8728, 5.9182) -> (-86.1268, 5.9182)
  line L586 (-86.1268, 5.9182) -> (-86.2538, 5.6642)
  line L587 (-86.2538, 5.6642) -> (-86.2538, 0.9906)
  line L588 (-86.2538, 0.9906) -> (-87.7458, 0.9906)
  line L589 (-87.7458, 0.9906) -> (-87.7458, 5.6642)
  line L590 (-87.7458, 5.6642) -> (-87.8728, 5.9182)
  line L591 (-87.8728, 5.9182) -> (-88.1268, 5.9182)
  line L592 (-88.1268, 5.9182) -> (-88.2538, 5.6642)
  line L593 (-88.2538, 5.6642) -> (-88.2538, 0.9906)
  line L594 (-88.2538, 0.9906) -> (-89.7458, 0.9906)
  line L595 (-89.7458, 0.9906) -> (-89.7458, 5.6642)
  line L596 (-89.7458, 5.6642) -> (-89.8728, 5.9182)
  line L597 (-89.8728, 5.9182) -> (-90.1268, 5.9182)
  line L598 (-90.1268, 5.9182) -> (-90.2538, 5.6642)
  line L599 (-90.2538, 5.6642) -> (-90.2538, 0.9906)
  line L600 (-90.2538, 0.9906) -> (-91.7458, 0.9906)
  line L601 (-91.7458, 0.9906) -> (-91.7458, 5.6642)
  line L602 (-91.7458, 5.6642) -> (-91.8728, 5.9182)
  line L603 (-91.8728, 5.9182) -> (-92.1268, 5.9182)
  line L604 (-92.1268, 5.9182) -> (-92.2538, 5.6642)
  line L605 (-92.2538, 5.6642) -> (-92.2538, 0.9906)
  line L606 (-92.2538, 0.9906) -> (-93.7458, 0.9906)
  line L607 (-93.7458, 0.9906) -> (-93.7458, 5.6642)
  line L608 (-93.7458, 5.6642) -> (-93.8728, 5.9182)
  line L609 (-93.8728, 5.9182) -> (-94.1268, 5.9182)
  line L610 (-94.1268, 5.9182) -> (-94.2538, 5.6642)
  line L611 (-94.2538, 5.6642) -> (-94.2538, 0.9906)
  line L612 (-94.2538, 0.9906) -> (-95.7458, 0.9906)
  line L613 (-95.7458, 0.9906) -> (-95.7458, 5.6642)
  line L614 (-95.7458, 5.6642) -> (-95.8728, 5.9182)
  line L615 (-95.8728, 5.9182) -> (-96.1268, 5.9182)
  line L616 (-96.1268, 5.9182) -> (-96.2538, 5.6642)
  line L617 (-96.2538, 5.6642) -> (-96.2538, 0.9906)
  line L618 (-96.2538, 0.9906) -> (-97.7458, 0.9906)
  line L619 (-97.7458, 0.9906) -> (-97.7458, 5.6642)
  line L620 (-97.7458, 5.6642) -> (-97.8728, 5.9182)
  line L621 (-97.8728, 5.9182) -> (-98.1268, 5.9182)
  line L622 (-98.1268, 5.9182) -> (-98.2538, 5.6642)
  line L623 (-98.2538, 5.6642) -> (-98.2538, 0.9906)
  line L624 (-98.2538, 0.9906) -> (-99.7458, 0.9906)
  line L625 (-99.7458, 0.9906) -> (-99.7458, 5.6642)
  line L626 (-99.7458, 5.6642) -> (-99.8728, 5.9182)
  line L627 (-99.8728, 5.9182) -> (-100.1268, 5.9182)
  line L628 (-100.1268, 5.9182) -> (-100.2538, 5.6642)
  line L629 (-100.2538, 5.6642) -> (-100.2538, 0.9906)
  line L630 (-100.2538, 0.9906) -> (-100.4603, 0.9906)
  line L631 (-100.4603, 0.9906) -> (-100.4603, 0.762)
extrude "Extrusion2" cut sketch "Sketch_1" along normal mid plane 15.24
ref_plane "0_XY" through (0, 0, 0) normal (0, 1, 0) x (1, 0, 0)
ref_plane "0_YZ" through (0, 0, 0) normal (1, 0, 0) x (0, 0, -1)
ref_plane "0_ZX" through (0, 0, 0) normal (0, 0, -1) x (0, 1, 0)
properties part number "TMM-103-05-F-D_pins2"
